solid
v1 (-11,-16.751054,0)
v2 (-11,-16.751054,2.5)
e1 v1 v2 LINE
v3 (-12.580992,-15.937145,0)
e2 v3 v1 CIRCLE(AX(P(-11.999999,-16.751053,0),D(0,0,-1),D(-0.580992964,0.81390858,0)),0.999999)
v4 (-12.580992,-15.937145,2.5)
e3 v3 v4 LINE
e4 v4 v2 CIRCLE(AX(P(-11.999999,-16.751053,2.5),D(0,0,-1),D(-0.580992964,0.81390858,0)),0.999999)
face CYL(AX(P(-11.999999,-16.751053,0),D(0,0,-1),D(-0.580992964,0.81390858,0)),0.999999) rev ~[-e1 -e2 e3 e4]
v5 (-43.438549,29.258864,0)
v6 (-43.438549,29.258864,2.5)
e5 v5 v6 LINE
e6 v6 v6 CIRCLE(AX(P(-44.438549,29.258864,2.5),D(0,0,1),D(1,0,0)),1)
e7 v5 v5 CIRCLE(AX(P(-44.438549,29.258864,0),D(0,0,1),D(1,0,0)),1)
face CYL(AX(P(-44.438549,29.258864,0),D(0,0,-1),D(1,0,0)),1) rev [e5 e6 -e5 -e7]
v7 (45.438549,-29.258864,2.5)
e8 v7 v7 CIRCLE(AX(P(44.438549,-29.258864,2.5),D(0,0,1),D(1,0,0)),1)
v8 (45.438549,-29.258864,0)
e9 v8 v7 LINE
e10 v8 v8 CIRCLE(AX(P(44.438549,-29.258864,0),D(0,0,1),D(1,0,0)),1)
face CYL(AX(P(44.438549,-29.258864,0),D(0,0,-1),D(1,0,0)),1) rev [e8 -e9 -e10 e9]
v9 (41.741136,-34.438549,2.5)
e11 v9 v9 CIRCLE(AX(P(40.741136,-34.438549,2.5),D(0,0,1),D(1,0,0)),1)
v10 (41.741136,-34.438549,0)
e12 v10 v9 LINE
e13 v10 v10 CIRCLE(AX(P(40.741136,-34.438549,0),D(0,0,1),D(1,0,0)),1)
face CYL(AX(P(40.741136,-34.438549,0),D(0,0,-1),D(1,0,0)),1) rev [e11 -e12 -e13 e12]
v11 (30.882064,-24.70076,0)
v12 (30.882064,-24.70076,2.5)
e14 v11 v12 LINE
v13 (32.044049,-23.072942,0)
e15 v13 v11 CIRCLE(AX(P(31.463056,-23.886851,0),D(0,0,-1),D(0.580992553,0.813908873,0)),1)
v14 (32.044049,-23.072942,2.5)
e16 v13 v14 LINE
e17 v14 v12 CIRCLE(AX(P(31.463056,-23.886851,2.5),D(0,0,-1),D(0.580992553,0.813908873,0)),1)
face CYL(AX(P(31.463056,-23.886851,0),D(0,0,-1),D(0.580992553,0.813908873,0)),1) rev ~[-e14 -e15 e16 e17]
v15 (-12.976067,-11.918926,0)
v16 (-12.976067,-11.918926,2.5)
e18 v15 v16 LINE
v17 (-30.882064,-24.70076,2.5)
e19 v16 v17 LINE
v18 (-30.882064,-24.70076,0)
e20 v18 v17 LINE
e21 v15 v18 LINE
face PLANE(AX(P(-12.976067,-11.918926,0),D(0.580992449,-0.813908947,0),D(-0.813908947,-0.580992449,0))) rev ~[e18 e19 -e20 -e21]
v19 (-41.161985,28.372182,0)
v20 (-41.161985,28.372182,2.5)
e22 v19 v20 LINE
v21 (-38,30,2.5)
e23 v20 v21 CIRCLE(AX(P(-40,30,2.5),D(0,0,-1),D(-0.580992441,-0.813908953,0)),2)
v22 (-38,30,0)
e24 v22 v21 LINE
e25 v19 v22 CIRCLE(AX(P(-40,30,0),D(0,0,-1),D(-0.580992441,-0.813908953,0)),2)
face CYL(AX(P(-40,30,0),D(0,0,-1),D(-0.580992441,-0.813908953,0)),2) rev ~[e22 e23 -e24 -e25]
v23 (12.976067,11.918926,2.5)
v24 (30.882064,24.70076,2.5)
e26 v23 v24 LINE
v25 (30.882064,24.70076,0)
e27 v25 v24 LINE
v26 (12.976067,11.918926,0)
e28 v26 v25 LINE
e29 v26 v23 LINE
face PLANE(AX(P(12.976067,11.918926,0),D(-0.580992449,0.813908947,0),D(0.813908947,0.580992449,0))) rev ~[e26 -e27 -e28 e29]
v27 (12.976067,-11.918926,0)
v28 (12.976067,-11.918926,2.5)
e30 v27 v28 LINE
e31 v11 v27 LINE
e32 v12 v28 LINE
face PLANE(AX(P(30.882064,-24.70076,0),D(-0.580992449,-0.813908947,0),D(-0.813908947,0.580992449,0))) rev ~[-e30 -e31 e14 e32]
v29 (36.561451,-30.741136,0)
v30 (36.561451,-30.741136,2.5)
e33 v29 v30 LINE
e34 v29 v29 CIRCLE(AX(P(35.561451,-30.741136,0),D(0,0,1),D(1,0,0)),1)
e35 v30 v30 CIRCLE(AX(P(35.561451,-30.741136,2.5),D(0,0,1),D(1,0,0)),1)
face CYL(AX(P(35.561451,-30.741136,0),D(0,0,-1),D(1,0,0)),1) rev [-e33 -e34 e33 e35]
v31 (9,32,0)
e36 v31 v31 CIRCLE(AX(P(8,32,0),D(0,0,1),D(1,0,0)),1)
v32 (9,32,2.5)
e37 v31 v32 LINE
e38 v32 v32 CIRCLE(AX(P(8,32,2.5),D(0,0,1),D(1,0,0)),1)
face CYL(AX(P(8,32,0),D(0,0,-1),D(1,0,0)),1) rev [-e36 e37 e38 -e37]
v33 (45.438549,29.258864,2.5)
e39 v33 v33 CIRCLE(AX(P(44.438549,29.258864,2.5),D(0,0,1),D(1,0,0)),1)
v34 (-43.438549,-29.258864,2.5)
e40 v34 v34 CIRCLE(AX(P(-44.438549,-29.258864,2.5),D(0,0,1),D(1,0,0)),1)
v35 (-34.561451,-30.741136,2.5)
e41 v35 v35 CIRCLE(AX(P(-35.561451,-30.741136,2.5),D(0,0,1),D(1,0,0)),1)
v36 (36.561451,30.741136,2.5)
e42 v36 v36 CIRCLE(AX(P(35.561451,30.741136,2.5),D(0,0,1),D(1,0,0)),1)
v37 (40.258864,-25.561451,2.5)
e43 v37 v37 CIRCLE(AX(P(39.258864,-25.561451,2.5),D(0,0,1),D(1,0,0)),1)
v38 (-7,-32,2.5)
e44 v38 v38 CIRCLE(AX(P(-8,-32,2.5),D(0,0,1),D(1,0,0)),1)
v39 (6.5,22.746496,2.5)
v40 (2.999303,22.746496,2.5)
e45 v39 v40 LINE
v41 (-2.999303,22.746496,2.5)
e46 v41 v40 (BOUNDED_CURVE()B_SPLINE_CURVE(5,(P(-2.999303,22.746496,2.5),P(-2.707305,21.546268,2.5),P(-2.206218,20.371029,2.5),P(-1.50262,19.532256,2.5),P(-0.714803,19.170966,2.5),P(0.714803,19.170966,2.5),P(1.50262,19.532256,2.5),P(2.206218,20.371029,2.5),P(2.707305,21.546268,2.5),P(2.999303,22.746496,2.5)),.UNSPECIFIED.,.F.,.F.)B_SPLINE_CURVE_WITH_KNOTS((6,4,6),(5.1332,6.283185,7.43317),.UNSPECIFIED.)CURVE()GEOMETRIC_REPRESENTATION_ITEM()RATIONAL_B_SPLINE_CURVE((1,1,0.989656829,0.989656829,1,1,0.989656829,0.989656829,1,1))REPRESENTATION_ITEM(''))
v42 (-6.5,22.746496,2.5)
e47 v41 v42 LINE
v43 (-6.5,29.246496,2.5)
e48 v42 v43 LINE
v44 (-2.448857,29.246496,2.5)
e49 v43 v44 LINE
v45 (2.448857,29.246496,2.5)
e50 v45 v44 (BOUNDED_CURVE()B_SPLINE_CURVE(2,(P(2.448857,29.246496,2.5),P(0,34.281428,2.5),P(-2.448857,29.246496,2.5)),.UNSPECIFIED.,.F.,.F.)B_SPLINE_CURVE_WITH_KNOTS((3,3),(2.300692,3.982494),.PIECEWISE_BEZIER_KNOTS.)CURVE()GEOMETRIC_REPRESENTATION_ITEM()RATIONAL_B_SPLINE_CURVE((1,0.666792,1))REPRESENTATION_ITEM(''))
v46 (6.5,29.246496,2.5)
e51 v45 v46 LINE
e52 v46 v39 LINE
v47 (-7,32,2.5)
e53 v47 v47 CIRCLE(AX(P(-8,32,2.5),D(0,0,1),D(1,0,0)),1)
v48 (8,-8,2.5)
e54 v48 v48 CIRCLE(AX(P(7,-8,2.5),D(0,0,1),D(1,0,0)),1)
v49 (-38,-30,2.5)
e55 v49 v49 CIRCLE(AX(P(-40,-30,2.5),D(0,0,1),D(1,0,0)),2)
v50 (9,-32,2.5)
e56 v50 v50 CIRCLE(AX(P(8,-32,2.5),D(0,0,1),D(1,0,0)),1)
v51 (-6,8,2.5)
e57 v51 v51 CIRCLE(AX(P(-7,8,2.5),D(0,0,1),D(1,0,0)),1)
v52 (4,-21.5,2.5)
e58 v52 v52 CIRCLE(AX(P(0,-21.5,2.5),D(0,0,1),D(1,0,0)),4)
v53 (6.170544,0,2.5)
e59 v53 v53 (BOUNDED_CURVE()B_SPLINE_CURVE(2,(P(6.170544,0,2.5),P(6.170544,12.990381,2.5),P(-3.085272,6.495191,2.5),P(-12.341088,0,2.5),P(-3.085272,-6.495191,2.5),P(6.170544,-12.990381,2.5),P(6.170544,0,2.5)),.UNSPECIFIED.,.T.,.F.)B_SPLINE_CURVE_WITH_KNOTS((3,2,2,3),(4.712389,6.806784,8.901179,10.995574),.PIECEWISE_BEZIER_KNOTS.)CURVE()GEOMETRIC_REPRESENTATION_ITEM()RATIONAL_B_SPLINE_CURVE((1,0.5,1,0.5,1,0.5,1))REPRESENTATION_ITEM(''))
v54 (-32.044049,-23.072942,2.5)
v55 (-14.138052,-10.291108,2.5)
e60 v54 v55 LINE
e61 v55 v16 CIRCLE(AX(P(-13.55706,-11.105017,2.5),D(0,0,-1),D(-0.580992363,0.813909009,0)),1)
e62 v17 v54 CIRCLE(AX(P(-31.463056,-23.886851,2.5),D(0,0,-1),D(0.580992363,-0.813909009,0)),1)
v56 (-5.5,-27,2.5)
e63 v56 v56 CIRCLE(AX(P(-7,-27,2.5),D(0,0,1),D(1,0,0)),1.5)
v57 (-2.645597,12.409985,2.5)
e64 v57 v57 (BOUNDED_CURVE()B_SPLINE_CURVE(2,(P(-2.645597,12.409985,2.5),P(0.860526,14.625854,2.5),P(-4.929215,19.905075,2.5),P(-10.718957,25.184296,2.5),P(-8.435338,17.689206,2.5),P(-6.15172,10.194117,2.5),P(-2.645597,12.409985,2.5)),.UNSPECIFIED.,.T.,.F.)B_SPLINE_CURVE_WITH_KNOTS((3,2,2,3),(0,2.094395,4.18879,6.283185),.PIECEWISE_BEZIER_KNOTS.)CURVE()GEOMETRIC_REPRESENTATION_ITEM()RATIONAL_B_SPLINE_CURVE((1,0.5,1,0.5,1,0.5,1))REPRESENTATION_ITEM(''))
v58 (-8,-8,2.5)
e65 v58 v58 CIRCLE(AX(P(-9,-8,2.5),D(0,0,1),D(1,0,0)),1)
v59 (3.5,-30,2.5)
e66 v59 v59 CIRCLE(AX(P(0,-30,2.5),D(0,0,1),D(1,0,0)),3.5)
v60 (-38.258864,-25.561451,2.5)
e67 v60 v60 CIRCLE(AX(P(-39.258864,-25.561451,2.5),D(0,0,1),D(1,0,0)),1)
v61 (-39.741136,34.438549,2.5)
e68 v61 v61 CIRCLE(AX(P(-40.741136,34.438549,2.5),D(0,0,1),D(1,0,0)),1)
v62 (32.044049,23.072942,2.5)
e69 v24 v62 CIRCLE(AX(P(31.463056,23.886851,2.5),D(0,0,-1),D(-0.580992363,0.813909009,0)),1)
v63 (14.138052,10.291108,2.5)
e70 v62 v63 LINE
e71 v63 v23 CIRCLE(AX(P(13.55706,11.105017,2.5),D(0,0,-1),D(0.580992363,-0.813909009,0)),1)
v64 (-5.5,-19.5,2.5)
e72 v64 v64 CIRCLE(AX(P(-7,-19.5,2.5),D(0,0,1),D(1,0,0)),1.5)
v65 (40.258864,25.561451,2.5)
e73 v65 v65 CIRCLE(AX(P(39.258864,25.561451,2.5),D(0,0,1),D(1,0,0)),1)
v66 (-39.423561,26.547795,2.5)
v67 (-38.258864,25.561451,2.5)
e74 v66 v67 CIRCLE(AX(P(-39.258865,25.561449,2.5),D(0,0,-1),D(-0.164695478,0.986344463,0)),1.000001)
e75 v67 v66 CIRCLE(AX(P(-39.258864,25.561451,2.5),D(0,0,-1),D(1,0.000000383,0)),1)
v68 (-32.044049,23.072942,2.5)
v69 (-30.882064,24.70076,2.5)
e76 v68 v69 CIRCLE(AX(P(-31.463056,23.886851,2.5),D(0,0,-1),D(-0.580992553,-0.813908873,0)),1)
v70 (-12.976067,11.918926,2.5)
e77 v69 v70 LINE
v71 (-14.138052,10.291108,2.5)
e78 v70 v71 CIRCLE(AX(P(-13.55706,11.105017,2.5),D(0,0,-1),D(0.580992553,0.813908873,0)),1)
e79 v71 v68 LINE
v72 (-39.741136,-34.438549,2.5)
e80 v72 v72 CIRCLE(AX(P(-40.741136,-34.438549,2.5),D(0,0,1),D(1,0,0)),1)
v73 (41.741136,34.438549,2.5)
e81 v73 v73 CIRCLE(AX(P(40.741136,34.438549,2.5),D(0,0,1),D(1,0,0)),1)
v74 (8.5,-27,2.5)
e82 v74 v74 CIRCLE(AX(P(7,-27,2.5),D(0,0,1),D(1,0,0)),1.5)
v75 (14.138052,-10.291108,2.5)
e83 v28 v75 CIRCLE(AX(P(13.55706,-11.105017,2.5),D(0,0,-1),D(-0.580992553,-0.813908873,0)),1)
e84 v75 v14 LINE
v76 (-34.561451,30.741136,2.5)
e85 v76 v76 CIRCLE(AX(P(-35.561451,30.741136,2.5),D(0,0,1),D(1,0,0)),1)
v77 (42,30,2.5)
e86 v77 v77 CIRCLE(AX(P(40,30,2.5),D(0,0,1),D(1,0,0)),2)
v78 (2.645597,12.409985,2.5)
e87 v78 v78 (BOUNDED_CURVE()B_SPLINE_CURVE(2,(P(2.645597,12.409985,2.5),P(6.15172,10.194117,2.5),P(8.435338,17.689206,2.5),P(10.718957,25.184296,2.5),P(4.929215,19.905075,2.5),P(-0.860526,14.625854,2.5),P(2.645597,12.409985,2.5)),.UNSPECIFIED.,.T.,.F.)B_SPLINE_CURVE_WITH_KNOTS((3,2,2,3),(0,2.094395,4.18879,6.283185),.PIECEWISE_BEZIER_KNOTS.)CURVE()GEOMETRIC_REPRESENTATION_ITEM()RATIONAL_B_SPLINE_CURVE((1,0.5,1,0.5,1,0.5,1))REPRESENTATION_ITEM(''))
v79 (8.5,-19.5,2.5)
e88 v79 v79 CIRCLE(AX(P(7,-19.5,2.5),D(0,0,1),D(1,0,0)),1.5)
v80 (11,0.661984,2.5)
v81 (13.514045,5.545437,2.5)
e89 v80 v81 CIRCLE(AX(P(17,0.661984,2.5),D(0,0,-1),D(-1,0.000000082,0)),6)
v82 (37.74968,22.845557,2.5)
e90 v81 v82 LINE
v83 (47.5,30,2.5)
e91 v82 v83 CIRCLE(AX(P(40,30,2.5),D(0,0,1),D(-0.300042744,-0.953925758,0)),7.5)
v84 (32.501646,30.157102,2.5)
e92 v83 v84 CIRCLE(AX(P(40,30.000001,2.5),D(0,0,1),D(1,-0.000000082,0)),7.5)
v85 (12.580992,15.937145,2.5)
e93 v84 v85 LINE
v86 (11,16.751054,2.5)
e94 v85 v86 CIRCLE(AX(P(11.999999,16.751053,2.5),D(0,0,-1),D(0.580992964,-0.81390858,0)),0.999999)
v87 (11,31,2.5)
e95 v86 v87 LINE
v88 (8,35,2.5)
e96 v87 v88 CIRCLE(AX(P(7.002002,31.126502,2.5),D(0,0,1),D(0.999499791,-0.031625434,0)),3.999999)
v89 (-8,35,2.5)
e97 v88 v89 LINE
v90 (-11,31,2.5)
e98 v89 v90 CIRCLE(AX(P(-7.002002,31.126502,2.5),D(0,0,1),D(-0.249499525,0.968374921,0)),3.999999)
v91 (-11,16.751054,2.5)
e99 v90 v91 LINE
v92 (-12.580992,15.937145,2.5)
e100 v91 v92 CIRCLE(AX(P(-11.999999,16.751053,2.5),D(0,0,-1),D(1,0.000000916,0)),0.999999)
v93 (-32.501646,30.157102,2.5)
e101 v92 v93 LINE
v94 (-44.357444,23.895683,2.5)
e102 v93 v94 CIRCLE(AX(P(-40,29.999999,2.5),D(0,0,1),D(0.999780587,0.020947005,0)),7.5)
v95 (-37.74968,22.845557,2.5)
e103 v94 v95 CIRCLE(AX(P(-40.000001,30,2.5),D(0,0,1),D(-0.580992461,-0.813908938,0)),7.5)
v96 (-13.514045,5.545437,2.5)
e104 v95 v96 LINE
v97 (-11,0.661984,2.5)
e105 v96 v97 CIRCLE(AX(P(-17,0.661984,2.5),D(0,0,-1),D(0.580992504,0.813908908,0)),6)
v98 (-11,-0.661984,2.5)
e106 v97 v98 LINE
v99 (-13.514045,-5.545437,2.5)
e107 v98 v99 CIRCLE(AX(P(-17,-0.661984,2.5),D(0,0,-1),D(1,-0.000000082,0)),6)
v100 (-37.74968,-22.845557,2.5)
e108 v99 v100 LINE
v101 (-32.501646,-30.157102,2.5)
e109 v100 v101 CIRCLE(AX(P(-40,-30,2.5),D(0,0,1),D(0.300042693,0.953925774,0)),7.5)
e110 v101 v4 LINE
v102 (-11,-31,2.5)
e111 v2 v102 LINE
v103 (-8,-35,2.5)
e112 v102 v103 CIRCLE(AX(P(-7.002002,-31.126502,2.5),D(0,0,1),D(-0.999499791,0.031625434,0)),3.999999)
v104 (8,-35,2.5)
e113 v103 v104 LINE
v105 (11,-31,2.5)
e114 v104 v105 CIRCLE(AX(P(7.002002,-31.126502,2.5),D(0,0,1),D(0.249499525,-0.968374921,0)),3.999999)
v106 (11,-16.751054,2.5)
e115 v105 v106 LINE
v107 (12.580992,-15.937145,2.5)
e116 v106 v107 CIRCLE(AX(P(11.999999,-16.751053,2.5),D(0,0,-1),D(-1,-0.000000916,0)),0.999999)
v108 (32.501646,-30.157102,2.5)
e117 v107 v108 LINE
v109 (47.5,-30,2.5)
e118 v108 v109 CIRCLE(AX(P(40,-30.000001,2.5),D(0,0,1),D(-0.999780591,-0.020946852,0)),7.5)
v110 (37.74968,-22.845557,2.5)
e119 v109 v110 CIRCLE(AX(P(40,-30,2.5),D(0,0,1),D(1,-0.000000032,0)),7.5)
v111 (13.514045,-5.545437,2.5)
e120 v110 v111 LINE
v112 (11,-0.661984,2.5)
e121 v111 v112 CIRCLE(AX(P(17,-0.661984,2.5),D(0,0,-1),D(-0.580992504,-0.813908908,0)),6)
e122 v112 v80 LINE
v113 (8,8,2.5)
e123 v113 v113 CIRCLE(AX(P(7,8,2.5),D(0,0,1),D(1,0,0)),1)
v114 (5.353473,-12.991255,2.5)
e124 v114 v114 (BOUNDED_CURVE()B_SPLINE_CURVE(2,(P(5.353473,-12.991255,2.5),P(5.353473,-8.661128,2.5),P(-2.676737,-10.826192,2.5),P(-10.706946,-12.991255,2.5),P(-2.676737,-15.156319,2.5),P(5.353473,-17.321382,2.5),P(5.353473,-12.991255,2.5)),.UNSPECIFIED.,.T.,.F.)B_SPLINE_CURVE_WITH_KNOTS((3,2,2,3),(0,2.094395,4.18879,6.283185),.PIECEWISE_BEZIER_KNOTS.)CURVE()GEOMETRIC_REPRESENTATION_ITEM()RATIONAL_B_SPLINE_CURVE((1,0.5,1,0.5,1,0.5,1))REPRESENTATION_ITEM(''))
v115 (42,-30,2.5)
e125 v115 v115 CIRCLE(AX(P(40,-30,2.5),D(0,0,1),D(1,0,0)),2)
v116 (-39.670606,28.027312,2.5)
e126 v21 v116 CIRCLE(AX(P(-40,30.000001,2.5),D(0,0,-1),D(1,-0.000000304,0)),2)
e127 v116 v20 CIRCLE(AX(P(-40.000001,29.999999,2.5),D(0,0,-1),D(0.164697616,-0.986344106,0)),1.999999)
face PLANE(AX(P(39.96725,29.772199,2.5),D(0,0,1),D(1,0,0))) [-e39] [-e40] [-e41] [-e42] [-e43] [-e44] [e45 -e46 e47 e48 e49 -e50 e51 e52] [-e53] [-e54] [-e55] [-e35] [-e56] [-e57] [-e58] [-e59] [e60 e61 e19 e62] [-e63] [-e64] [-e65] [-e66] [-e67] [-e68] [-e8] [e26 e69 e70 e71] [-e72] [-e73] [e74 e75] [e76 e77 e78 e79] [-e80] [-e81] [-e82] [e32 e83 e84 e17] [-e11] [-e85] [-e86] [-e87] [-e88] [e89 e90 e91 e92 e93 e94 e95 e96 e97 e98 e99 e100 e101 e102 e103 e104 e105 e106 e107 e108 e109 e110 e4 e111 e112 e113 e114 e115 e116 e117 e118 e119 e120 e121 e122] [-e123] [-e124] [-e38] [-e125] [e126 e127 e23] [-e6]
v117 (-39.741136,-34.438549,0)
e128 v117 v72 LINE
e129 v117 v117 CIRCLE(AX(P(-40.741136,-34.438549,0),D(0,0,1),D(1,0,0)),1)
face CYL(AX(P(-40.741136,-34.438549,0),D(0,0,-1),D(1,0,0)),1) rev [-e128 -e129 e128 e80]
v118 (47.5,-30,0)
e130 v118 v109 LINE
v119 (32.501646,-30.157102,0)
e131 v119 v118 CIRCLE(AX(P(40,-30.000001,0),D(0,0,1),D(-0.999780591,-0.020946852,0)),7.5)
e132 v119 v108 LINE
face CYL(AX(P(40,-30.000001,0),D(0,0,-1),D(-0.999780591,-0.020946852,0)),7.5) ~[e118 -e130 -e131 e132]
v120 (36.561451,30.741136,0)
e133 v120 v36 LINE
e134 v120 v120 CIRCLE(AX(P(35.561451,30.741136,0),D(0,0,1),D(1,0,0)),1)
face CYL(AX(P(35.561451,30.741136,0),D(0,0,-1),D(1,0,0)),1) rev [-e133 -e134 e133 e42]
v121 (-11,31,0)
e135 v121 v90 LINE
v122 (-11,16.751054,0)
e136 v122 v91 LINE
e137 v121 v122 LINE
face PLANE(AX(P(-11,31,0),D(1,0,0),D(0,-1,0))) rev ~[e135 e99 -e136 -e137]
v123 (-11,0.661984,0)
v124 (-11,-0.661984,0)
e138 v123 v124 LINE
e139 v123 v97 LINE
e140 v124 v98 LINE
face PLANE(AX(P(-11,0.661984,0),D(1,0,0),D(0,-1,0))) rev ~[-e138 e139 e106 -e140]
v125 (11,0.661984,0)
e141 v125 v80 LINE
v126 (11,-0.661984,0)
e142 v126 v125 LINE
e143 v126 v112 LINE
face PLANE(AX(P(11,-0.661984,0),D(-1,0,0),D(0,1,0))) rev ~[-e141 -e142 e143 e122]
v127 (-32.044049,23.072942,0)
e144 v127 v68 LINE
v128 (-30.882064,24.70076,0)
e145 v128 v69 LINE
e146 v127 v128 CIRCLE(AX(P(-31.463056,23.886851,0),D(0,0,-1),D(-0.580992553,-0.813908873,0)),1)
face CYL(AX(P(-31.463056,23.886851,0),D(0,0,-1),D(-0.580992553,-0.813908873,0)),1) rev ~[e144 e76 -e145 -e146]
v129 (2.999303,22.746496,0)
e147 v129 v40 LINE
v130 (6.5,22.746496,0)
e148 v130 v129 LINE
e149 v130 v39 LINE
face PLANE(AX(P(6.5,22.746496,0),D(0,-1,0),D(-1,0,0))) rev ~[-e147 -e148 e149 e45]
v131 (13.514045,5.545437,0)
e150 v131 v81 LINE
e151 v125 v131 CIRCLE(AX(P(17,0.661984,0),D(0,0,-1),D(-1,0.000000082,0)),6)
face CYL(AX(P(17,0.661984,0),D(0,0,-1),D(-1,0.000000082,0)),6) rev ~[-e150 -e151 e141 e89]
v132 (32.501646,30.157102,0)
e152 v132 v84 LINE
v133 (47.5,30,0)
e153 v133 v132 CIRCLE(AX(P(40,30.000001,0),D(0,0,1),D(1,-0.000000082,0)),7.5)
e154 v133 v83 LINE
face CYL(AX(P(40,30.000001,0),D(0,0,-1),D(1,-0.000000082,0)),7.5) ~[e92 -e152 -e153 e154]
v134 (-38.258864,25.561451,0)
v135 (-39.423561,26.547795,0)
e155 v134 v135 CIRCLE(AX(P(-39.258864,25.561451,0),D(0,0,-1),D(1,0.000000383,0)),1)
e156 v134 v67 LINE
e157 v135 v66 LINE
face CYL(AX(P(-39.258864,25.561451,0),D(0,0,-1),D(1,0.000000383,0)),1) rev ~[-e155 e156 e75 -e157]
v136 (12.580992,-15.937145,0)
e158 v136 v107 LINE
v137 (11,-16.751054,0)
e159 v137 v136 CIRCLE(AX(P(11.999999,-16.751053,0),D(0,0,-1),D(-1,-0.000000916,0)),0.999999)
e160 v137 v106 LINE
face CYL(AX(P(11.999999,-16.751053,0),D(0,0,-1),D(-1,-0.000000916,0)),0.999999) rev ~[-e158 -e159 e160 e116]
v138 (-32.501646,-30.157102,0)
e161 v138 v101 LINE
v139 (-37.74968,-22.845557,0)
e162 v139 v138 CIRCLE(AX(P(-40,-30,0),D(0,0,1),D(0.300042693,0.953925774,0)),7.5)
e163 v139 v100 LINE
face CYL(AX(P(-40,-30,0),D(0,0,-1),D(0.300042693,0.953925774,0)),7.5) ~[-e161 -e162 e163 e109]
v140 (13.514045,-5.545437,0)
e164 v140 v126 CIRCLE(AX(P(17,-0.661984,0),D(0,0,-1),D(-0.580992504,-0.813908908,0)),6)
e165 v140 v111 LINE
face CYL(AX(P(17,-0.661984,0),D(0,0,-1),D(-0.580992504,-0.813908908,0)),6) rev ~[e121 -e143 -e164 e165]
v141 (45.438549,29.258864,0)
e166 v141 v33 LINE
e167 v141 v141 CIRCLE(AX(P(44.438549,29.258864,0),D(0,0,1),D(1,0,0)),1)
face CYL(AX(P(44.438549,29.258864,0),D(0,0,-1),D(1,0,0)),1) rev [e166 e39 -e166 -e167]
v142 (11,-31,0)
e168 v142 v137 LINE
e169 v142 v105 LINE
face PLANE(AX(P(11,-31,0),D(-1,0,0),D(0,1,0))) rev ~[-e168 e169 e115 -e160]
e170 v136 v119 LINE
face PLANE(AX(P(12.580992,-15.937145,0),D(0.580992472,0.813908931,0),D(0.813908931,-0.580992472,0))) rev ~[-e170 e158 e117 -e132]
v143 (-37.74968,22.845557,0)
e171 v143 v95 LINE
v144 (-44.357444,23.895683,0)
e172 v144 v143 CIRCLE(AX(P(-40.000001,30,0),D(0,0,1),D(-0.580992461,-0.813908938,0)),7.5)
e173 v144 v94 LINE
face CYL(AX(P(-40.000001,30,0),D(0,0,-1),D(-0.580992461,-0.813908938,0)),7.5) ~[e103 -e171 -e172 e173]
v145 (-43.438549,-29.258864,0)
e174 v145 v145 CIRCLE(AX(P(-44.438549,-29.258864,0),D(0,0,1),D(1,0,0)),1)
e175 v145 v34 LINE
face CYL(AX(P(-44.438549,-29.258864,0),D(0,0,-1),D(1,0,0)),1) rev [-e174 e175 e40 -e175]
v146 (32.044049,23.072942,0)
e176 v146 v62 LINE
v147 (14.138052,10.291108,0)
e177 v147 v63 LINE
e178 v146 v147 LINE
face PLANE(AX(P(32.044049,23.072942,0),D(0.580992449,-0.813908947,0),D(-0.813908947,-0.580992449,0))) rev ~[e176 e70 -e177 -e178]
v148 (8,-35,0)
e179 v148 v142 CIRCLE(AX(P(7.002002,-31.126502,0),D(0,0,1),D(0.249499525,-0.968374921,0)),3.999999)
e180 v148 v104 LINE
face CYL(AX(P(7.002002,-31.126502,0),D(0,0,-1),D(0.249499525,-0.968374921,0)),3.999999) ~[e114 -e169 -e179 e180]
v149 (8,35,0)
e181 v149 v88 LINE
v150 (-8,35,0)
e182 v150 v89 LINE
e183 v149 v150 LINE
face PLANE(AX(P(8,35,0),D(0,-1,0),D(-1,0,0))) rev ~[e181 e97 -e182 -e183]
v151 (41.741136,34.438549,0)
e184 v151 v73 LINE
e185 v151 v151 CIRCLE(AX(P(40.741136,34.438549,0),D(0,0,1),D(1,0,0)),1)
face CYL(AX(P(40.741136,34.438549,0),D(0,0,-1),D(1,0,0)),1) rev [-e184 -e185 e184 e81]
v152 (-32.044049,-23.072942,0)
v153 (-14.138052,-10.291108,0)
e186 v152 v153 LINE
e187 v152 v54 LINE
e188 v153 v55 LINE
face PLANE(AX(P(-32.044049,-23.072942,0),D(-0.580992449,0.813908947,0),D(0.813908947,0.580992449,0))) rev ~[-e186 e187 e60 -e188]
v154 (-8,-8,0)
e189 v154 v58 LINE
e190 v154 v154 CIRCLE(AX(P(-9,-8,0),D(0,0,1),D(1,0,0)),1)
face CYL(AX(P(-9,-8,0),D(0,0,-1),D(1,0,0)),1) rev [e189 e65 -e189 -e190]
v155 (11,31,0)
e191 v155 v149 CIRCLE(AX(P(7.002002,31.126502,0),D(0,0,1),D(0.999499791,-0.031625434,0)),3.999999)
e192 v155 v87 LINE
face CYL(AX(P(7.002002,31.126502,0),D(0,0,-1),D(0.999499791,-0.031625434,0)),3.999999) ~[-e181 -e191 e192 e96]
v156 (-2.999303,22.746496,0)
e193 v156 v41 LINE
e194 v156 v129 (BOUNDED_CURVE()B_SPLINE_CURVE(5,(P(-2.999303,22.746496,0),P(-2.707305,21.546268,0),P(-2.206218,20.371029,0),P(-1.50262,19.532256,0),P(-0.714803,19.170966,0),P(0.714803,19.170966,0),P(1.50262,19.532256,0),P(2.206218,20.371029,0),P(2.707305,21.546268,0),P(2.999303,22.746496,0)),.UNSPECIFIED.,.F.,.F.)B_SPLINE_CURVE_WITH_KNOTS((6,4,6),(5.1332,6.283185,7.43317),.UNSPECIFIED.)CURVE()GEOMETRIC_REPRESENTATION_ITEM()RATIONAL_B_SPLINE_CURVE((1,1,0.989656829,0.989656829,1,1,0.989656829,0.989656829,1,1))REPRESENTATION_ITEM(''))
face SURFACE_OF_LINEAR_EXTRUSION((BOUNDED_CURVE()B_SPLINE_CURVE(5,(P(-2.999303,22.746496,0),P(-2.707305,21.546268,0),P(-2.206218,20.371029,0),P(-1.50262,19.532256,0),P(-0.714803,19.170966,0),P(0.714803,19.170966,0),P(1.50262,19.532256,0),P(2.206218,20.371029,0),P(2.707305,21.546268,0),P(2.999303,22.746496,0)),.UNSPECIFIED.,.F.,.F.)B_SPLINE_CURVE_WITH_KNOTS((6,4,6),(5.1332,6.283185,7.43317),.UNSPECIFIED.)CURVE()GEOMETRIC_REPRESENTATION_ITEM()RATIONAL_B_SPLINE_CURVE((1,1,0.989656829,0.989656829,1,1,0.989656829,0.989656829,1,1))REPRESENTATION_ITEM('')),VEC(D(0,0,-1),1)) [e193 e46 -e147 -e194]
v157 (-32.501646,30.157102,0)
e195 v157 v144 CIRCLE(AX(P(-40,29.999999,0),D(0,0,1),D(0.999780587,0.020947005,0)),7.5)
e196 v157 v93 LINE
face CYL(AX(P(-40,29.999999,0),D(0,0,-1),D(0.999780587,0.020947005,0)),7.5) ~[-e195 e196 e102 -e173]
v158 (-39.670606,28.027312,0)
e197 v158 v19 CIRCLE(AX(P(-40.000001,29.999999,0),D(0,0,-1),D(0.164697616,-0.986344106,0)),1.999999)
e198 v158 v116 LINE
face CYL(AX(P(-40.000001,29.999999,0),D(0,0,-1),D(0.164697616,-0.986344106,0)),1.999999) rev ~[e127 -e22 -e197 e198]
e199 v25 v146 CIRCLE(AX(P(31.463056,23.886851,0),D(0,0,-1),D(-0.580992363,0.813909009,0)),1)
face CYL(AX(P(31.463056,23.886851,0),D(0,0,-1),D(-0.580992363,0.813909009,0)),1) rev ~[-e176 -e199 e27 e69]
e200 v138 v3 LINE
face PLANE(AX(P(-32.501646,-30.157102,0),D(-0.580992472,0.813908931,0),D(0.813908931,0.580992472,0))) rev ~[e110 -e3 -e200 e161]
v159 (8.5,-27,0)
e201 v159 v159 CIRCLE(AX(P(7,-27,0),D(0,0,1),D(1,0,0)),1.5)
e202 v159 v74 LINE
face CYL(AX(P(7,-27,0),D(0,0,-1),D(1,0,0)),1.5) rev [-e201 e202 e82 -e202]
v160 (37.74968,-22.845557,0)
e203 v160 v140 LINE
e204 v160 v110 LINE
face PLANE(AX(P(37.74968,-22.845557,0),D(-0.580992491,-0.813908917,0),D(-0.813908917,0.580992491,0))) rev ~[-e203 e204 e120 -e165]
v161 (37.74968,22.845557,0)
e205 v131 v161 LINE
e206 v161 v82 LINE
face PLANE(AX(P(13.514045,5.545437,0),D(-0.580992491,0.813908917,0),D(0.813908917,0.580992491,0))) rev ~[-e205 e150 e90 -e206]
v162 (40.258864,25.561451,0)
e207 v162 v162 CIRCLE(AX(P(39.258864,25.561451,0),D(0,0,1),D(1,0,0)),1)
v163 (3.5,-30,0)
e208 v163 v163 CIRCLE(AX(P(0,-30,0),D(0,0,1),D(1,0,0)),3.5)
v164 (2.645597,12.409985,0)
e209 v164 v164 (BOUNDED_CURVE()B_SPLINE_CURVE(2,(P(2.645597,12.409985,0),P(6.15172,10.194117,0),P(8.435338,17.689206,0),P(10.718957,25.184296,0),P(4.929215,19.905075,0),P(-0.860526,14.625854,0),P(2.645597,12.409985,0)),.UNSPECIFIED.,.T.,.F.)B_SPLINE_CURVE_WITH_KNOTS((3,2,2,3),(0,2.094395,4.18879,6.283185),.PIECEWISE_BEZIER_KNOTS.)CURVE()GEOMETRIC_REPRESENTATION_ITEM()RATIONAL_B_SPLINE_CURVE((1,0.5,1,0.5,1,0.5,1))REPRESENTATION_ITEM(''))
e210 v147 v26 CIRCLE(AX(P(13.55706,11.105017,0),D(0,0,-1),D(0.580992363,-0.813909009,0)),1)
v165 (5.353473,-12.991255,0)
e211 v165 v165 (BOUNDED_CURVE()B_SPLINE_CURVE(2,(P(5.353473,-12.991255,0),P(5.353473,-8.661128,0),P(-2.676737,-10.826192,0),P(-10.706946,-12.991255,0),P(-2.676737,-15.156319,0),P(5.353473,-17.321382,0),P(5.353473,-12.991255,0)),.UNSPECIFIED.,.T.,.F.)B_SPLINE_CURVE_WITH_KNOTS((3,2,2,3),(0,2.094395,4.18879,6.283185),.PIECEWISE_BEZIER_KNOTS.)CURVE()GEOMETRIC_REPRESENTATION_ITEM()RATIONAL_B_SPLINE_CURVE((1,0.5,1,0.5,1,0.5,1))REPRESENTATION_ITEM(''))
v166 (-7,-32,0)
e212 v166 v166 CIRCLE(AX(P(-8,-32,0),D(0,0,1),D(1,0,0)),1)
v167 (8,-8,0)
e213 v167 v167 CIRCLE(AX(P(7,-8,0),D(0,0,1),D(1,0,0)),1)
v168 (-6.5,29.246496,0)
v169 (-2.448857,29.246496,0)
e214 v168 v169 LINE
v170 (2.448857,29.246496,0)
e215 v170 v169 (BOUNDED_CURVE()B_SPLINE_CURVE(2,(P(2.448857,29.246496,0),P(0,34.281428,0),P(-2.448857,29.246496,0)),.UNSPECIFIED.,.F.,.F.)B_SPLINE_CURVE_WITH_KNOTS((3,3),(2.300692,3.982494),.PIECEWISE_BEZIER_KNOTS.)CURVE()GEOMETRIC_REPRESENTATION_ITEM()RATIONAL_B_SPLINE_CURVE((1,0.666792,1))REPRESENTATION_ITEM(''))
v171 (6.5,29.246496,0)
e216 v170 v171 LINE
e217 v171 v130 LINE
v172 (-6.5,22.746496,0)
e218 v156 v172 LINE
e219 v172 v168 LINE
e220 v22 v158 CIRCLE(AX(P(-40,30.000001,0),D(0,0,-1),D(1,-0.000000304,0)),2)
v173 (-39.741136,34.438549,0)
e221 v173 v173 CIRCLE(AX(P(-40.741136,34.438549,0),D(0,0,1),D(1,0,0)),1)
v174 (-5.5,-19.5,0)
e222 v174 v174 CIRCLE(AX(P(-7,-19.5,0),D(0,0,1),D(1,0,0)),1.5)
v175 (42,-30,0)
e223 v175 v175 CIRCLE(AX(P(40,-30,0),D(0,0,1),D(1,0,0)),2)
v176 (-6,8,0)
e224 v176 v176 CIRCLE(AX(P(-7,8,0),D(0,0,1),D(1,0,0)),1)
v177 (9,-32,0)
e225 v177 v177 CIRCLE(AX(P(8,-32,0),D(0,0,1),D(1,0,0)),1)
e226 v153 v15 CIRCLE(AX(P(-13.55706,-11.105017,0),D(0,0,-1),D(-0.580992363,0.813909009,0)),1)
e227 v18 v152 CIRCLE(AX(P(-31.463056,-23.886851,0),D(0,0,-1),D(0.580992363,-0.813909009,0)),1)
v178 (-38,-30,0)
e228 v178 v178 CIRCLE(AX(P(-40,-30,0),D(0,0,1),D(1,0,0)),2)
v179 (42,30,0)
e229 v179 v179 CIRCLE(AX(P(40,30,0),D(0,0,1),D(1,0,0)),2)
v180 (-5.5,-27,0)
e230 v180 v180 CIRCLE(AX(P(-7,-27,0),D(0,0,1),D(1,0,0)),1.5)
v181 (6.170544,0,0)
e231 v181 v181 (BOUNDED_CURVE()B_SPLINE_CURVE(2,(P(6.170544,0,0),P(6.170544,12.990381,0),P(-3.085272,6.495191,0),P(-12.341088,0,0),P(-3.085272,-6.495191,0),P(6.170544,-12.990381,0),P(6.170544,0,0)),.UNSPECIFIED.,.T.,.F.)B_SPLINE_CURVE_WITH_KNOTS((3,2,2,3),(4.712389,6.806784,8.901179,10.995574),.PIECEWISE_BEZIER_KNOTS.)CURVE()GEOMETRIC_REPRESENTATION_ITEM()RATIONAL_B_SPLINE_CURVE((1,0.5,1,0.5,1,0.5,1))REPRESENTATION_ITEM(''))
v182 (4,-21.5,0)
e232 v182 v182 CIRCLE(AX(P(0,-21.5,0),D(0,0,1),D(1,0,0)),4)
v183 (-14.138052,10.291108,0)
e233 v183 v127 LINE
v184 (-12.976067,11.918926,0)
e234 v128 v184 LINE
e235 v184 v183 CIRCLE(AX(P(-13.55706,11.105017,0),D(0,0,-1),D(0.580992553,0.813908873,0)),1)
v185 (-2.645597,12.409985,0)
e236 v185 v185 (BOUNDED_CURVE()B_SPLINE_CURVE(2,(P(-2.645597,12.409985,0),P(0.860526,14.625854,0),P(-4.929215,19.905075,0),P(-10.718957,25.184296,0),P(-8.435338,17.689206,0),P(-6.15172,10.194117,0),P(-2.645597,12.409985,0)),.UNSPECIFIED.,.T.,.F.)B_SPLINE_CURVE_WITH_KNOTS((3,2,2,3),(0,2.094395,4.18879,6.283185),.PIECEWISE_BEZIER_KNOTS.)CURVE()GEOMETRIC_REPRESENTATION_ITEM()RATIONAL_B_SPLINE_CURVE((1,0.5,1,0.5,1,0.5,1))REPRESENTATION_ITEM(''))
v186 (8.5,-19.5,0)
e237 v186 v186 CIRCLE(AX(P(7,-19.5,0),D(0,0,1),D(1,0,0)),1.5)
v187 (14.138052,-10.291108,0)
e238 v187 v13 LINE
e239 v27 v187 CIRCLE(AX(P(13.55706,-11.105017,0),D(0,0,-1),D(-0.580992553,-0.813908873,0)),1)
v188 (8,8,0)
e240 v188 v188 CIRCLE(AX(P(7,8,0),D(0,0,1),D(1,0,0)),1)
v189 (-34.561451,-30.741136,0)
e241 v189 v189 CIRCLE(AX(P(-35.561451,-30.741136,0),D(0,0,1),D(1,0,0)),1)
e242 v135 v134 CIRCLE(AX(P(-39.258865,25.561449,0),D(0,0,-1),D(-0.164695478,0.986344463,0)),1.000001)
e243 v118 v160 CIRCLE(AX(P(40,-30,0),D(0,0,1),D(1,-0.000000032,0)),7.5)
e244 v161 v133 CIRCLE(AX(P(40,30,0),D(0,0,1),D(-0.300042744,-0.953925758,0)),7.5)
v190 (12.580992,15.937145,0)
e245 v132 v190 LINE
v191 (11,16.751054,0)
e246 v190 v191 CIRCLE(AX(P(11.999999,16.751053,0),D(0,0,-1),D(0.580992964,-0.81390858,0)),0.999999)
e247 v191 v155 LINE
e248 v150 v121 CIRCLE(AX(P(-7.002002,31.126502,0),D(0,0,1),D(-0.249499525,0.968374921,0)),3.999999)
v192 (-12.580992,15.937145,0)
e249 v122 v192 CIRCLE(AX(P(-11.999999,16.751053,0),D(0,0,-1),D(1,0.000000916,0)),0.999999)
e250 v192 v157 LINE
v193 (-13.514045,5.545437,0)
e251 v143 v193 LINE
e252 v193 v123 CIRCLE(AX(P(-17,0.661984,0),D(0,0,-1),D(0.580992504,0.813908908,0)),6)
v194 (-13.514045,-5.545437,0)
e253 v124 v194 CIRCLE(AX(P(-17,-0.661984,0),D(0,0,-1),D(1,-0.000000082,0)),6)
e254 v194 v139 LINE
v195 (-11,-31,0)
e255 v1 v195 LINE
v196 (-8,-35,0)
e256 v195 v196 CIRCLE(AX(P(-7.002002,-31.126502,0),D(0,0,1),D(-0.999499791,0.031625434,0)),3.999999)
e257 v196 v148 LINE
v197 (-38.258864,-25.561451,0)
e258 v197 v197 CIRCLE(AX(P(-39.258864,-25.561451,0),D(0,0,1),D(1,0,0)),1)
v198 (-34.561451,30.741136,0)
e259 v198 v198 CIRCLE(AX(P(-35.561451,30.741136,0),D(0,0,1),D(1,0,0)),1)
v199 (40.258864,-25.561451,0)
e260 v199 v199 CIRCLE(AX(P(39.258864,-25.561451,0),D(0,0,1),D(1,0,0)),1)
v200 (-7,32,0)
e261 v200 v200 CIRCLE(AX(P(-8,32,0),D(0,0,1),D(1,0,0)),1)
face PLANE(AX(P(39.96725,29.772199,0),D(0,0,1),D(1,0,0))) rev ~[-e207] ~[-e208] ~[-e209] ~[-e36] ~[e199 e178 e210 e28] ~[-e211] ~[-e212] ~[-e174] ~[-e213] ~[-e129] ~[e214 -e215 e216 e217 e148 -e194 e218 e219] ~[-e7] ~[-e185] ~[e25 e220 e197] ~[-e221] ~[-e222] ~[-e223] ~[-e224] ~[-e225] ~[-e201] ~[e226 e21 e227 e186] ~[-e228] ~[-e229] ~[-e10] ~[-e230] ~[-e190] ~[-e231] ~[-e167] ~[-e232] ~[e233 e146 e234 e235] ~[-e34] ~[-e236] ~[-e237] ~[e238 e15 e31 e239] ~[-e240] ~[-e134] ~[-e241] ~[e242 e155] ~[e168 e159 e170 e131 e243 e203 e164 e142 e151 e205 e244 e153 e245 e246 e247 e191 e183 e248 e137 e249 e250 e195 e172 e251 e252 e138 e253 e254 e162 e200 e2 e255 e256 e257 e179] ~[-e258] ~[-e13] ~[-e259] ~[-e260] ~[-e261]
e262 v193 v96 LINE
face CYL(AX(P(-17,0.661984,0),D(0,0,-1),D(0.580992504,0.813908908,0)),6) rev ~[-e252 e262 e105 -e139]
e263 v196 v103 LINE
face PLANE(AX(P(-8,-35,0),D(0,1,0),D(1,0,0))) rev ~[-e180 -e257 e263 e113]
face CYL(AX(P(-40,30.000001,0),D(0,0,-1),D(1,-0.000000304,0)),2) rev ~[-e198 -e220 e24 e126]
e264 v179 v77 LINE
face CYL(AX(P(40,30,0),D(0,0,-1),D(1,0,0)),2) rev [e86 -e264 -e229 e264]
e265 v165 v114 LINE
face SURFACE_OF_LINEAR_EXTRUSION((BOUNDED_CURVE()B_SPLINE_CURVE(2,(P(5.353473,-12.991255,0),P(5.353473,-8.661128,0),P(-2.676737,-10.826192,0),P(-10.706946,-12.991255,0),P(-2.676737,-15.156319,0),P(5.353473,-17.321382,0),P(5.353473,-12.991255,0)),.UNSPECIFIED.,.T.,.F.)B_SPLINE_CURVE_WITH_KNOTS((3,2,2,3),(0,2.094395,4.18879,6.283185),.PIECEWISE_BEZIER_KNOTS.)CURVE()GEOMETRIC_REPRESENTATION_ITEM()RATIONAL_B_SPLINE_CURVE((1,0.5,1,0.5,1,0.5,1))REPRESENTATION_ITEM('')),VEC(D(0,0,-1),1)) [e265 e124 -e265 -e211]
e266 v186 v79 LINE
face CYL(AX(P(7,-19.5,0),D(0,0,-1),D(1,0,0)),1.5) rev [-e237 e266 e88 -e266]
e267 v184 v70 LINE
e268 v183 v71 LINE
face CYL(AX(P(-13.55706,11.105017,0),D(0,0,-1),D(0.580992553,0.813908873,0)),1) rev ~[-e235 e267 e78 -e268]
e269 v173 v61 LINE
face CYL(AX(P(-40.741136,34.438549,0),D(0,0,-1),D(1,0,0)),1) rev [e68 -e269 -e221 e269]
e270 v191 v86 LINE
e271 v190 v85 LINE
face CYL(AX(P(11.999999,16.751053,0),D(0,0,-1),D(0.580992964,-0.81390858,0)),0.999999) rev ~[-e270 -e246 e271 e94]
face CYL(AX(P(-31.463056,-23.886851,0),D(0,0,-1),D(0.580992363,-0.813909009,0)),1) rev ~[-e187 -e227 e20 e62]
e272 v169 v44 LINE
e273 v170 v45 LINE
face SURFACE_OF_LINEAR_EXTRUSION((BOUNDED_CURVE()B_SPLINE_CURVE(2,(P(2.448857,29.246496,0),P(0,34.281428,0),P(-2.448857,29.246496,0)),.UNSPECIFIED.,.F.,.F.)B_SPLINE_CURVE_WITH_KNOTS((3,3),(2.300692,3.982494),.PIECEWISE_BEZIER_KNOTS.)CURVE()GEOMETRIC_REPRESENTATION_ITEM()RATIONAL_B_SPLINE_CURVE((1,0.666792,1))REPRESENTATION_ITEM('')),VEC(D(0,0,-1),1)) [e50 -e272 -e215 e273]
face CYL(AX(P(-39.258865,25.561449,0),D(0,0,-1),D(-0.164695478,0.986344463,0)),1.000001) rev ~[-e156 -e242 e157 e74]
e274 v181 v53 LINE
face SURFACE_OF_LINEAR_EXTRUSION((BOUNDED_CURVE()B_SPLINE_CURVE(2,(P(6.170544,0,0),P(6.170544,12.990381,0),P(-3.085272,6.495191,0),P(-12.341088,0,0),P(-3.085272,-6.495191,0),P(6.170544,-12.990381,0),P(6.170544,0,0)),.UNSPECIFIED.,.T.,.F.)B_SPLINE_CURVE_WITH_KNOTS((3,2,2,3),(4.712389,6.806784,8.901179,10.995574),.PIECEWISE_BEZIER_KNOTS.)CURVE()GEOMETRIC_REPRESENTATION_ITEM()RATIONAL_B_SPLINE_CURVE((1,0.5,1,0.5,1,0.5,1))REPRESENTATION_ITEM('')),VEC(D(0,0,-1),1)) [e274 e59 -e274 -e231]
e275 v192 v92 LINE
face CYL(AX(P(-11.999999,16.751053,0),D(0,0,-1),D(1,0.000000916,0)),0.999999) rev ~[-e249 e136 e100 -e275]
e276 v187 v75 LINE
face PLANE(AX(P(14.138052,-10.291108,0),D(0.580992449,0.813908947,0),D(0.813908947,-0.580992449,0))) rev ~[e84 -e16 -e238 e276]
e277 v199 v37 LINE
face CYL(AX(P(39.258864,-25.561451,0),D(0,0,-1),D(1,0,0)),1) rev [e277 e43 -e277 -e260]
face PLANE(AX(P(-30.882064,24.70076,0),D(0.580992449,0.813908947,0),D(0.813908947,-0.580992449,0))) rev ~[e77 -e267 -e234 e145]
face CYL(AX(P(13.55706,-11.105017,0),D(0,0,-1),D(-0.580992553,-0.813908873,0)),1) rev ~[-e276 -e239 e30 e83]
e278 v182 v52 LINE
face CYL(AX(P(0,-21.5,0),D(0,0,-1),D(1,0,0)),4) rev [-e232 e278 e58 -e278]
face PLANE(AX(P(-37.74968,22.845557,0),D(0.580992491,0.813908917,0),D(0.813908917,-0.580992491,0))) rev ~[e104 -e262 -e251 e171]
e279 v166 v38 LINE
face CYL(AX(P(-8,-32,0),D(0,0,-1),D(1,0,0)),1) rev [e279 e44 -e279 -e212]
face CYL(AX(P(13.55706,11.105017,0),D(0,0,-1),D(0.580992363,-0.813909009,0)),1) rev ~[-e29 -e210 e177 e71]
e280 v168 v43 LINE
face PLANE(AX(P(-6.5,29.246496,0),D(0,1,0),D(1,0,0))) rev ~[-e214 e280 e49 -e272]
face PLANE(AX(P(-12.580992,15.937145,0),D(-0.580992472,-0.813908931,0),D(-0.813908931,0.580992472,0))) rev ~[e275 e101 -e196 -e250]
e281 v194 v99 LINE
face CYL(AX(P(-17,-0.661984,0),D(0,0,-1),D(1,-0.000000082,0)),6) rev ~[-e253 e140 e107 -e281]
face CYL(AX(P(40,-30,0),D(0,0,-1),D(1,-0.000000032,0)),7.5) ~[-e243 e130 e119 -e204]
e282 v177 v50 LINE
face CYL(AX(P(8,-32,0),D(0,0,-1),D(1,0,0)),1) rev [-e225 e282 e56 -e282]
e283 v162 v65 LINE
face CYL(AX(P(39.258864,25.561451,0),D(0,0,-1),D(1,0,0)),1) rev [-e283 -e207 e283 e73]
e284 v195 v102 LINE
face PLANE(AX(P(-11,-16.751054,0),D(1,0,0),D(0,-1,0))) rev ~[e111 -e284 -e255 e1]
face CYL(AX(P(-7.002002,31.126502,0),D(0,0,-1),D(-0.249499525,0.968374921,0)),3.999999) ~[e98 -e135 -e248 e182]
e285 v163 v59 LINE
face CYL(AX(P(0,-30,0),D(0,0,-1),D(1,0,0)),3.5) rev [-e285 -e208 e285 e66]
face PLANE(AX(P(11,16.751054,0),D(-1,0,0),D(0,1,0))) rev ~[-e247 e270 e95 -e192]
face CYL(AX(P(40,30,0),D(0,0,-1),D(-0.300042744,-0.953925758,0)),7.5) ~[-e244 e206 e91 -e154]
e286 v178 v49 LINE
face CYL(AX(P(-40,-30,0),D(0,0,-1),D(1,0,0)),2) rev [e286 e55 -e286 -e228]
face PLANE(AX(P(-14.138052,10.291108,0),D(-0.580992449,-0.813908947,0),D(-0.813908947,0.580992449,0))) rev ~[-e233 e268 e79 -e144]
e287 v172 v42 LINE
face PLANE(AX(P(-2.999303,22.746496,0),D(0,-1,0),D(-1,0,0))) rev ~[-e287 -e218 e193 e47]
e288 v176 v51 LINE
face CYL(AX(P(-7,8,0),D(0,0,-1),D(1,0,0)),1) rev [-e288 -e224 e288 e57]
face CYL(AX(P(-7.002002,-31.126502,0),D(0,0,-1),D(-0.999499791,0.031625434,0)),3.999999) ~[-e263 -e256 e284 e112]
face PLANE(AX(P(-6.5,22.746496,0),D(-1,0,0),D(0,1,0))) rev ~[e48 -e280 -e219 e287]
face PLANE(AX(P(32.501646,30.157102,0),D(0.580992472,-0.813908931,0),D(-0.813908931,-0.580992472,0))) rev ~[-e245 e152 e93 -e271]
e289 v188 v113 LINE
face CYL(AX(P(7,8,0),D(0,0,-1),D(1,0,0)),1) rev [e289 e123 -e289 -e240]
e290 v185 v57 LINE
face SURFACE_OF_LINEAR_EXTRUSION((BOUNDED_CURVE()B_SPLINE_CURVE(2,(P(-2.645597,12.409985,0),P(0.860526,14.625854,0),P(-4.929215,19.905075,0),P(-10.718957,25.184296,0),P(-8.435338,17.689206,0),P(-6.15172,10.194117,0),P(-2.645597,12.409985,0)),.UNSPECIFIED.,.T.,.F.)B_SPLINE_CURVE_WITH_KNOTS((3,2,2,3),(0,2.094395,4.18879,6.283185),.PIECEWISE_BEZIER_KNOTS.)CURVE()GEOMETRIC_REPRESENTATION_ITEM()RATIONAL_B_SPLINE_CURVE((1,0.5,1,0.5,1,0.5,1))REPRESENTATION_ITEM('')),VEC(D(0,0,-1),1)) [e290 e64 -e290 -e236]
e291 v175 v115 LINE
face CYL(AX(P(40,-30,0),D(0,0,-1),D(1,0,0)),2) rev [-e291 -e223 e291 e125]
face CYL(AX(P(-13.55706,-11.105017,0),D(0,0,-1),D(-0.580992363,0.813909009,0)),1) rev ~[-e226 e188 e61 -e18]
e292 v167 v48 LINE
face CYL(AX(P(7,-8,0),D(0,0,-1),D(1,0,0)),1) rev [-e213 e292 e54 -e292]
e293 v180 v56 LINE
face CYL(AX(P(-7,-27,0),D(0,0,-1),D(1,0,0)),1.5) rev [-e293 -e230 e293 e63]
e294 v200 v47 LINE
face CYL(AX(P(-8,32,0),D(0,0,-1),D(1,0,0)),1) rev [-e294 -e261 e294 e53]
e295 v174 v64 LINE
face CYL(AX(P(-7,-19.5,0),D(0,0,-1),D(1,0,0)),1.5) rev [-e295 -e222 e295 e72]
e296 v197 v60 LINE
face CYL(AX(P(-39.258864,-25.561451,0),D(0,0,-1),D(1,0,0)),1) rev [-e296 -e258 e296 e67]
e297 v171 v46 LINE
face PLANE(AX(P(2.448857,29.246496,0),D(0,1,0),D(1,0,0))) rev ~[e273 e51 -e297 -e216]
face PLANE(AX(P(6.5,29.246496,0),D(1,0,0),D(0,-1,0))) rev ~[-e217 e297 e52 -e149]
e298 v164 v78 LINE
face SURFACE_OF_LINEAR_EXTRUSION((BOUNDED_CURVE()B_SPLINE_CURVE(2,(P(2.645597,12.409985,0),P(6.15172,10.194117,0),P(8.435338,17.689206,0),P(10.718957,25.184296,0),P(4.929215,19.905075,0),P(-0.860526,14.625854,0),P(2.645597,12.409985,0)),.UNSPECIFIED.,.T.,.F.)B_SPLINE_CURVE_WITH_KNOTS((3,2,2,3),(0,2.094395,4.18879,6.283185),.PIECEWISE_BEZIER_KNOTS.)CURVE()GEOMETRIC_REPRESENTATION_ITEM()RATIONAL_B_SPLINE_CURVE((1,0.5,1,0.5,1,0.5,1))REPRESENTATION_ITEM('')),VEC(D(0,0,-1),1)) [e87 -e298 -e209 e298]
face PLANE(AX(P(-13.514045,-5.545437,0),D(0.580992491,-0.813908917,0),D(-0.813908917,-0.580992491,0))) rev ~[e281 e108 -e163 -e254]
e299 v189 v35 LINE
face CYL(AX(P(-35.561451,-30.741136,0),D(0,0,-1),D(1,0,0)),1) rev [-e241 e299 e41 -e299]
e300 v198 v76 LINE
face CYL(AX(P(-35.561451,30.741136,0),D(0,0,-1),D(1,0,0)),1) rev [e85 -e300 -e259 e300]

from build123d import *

# Parameters (mm, degrees)
F0_R     = 1
F0_R_2   = 2
F0_R_3   = 1.5
F0_R_4   = 3.5
F0_R_5   = 4
F1_DEPTH = 2.5


with BuildPart() as f1:
    # F0 (on Top) → F1 (new body)
    with BuildSketch(Plane.XY):
        with BuildLine():
            ThreePointArc((37.74968, 22.845557), (44.436924, 23.953207), (47.5, 30))
            ThreePointArc((47.5, 30), (40.078555, 37.499589), (32.501646, 30.157102))
            ThreePointArc((32.501646, 30.157102), (33.907067, 25.626653), (37.74968, 22.845557))
        make_face()
        with Locations((39.258864, 25.561451)):
            Circle(F0_R, mode=Mode.SUBTRACT)
        with Locations((35.561451, 30.741136)):
            Circle(F0_R, mode=Mode.SUBTRACT)
        with Locations((40, 30)):
            Circle(F0_R_2, mode=Mode.SUBTRACT)
        with Locations((44.438549, 29.258864)):
            Circle(F0_R, mode=Mode.SUBTRACT)
        with Locations((40.741136, 34.438549)):
            Circle(F0_R, mode=Mode.SUBTRACT)
        with BuildLine():
            ThreePointArc((37.74968, 22.845557), (33.907067, 25.626653), (32.501646, 30.157102))
            Line((32.501646, 30.157102), (12.580992, 15.937145))
            ThreePointArc((12.580992, 15.937145), (11.542284, 15.861955), (11, 16.751054))
            Line((11, 16.751054), (11, 31))
            ThreePointArc((11, 31), (10.202001, 33.526501), (8, 35))
            Line((8, 35), (-8, 35))
            ThreePointArc((-8, 35), (-10.202001, 33.526501), (-11, 31))
            Line((-11, 31), (-11, 16.751054))
            ThreePointArc((-11, 16.751054), (-11.542284, 15.861955), (-12.580992, 15.937145))
            Line((-12.580992, 15.937145), (-32.501646, 30.157102))
            ThreePointArc((-32.501646, 30.157102), (-32.500411, 30.078555), (-32.5, 30))
            ThreePointArc((-32.5, 30), (-33.953207, 25.563076), (-37.74968, 22.845557))
            Line((-37.74968, 22.845557), (-13.514045, 5.545437))
            ThreePointArc((-13.514045, 5.545437), (-11.665409, 3.408279), (-11, 0.661984))
            Line((-11, 0.661984), (-11, -0.661984))
            ThreePointArc((-11, -0.661984), (-11.665409, -3.408279), (-13.514045, -5.545437))
            Line((-13.514045, -5.545437), (-37.74968, -22.845557))
            ThreePointArc((-37.74968, -22.845557), (-33.953207, -25.563076), (-32.5, -30))
            ThreePointArc((-32.5, -30), (-32.500411, -30.078555), (-32.501646, -30.157102))
            Line((-32.501646, -30.157102), (-12.580992, -15.937145))
            ThreePointArc((-12.580992, -15.937145), (-11.542284, -15.861955), (-11, -16.751054))
            Line((-11, -16.751054), (-11, -16.917931))
            Line((-11, -16.917931), (-11, -31))
            ThreePointArc((-11, -31), (-10.202001, -33.526501), (-8, -35))
            Line((-8, -35), (8, -35))
            ThreePointArc((8, -35), (10.202001, -33.526501), (11, -31))
            Line((11, -31), (11, -16.917931))
            Line((11, -16.917931), (11, -16.751054))
            ThreePointArc((11, -16.751054), (11.542284, -15.861955), (12.580992, -15.937145))
            Line((12.580992, -15.937145), (32.501646, -30.157102))
            ThreePointArc((32.501646, -30.157102), (33.907067, -25.626653), (37.74968, -22.845557))
            Line((37.74968, -22.845557), (13.514045, -5.545437))
            ThreePointArc((13.514045, -5.545437), (11.665409, -3.408279), (11, -0.661984))
            Line((11, -0.661984), (11, 0.661984))
            ThreePointArc((11, 0.661984), (11.665409, 3.408279), (13.514045, 5.545437))
            Line((13.514045, 5.545437), (37.74968, 22.845557))
        make_face()
        with Locations((-8, -32)):
            Circle(F0_R, mode=Mode.SUBTRACT)
        with Locations((-7, -27)):
            Circle(F0_R_3, mode=Mode.SUBTRACT)
        with Locations((-7, -19.5)):
            Circle(F0_R_3, mode=Mode.SUBTRACT)
        with BuildLine():
            Line((-12.976067, -11.918926), (-30.882064, -24.70076))
            ThreePointArc((-30.882064, -24.70076), (-32.276965, -24.467844), (-32.044049, -23.072942))
            Line((-32.044049, -23.072942), (-14.138052, -10.291108))
            ThreePointArc((-14.138052, -10.291108), (-12.743151, -10.524024), (-12.976067, -11.918926))
        make_face(mode=Mode.SUBTRACT)
        with Locations((-9, -8)):
            Circle(F0_R, mode=Mode.SUBTRACT)
        with Locations((0, -30)):
            Circle(F0_R_4, mode=Mode.SUBTRACT)
        with Locations((8, -32)):
            Circle(F0_R, mode=Mode.SUBTRACT)
        with Locations((7, -27)):
            Circle(F0_R_3, mode=Mode.SUBTRACT)
        with Locations((0, -21.5)):
            Circle(F0_R_5, mode=Mode.SUBTRACT)
        with Locations((7, -19.5)):
            Circle(F0_R_3, mode=Mode.SUBTRACT)
        with BuildLine():
            add(Edge.make_bspline(
                [(5.353473, -12.991255), (5.353473, -8.661128), (-2.676737, -10.826192), (-10.706946, -12.991255), (-2.676737, -15.156319), (5.353473, -17.321382), (5.353473, -12.991255)],
                knots=[0, 0, 0, 2.094395, 2.094395, 4.18879, 4.18879, 6.283185, 6.283185, 6.283185], degree=2, weights=[1, 0.5, 1, 0.5, 1, 0.5, 1]))
        make_face(mode=Mode.SUBTRACT)
        with BuildLine():
            Line((14.138052, -10.291108), (32.044049, -23.072942))
            ThreePointArc((32.044049, -23.072942), (32.276965, -24.467844), (30.882064, -24.70076))
            Line((30.882064, -24.70076), (12.976067, -11.918926))
            ThreePointArc((12.976067, -11.918926), (12.743151, -10.524024), (14.138052, -10.291108))
        make_face(mode=Mode.SUBTRACT)
        with Locations((7, -8)):
            Circle(F0_R, mode=Mode.SUBTRACT)
        with Locations((-7, 8)):
            Circle(F0_R, mode=Mode.SUBTRACT)
        with BuildLine():
            ThreePointArc((-32.044049, 23.072942), (-32.276965, 24.467844), (-30.882064, 24.70076))
            Line((-30.882064, 24.70076), (-12.976067, 11.918926))
            ThreePointArc((-12.976067, 11.918926), (-12.743151, 10.524024), (-14.138052, 10.291108))
            Line((-14.138052, 10.291108), (-32.044049, 23.072942))
        make_face(mode=Mode.SUBTRACT)
        with BuildLine():
            add(Edge.make_bspline(
                [(-2.645597, 12.409985), (0.860526, 14.625854), (-4.929215, 19.905075), (-10.718957, 25.184296), (-8.435338, 17.689206), (-6.15172, 10.194117), (-2.645597, 12.409985)],
                knots=[0, 0, 0, 2.094395, 2.094395, 4.18879, 4.18879, 6.283185, 6.283185, 6.283185], degree=2, weights=[1, 0.5, 1, 0.5, 1, 0.5, 1]))
        make_face(mode=Mode.SUBTRACT)
        with Locations((-8, 32)):
            Circle(F0_R, mode=Mode.SUBTRACT)
        with BuildLine():
            add(Edge.make_bspline(
                [(6.170544, 0), (6.170544, 12.990381), (-3.085272, 6.495191), (-12.341088, 0), (-3.085272, -6.495191), (6.170544, -12.990381), (6.170544, 0)],
                knots=[4.712389, 4.712389, 4.712389, 6.806784, 6.806784, 8.901179, 8.901179, 10.995574, 10.995574, 10.995574], degree=2, weights=[1, 0.5, 1, 0.5, 1, 0.5, 1]))
        make_face(mode=Mode.SUBTRACT)
        with Locations((7, 8)):
            Circle(F0_R, mode=Mode.SUBTRACT)
        with BuildLine():
            add(Edge.make_bspline(
                [(2.645597, 12.409985), (6.15172, 10.194117), (8.435338, 17.689206), (10.718957, 25.184296), (4.929215, 19.905075), (-0.860526, 14.625854), (2.645597, 12.409985)],
                knots=[0, 0, 0, 2.094395, 2.094395, 4.18879, 4.18879, 6.283185, 6.283185, 6.283185], degree=2, weights=[1, 0.5, 1, 0.5, 1, 0.5, 1]))
        make_face(mode=Mode.SUBTRACT)
        with BuildLine():
            ThreePointArc((30.882064, 24.70076), (32.276965, 24.467844), (32.044049, 23.072942))
            Line((32.044049, 23.072942), (14.138052, 10.291108))
            ThreePointArc((14.138052, 10.291108), (12.743151, 10.524024), (12.976067, 11.918926))
            Line((12.976067, 11.918926), (30.882064, 24.70076))
        make_face(mode=Mode.SUBTRACT)
        with BuildLine():
            add(Edge.make_bspline(
                [(0, 19.170966), (2.129429, 19.170966), (2.999303, 22.746496)],
                knots=[0, 0, 0, 1.149985, 1.149985, 1.149985], degree=2, weights=[1, 0.839196, 1]))
            add(Edge.make_bspline(
                [(-2.999303, 22.746496), (-2.129429, 19.170966), (0, 19.170966)],
                knots=[5.1332, 5.1332, 5.1332, 6.283185, 6.283185, 6.283185], degree=2, weights=[1, 0.839196, 1]))
            Line((-2.999303, 22.746496), (-6.5, 22.746496))
            Line((-6.5, 22.746496), (-6.5, 29.246496))
            Line((-6.5, 29.246496), (-2.448857, 29.246496))
            add(Edge.make_bspline(
                [(2.448857, 29.246496), (0, 34.281428), (-2.448857, 29.246496)],
                knots=[2.300692, 2.300692, 2.300692, 3.982494, 3.982494, 3.982494], degree=2, weights=[1, 0.666792, 1]))
            Line((2.448857, 29.246496), (6.5, 29.246496))
            Line((6.5, 29.246496), (6.5, 22.746496))
            Line((6.5, 22.746496), (2.999303, 22.746496))
        make_face(mode=Mode.SUBTRACT)
        with Locations((8, 32)):
            Circle(F0_R, mode=Mode.SUBTRACT)
        with BuildLine():
            ThreePointArc((47.5, -30), (44.436924, -23.953207), (37.74968, -22.845557))
            ThreePointArc((37.74968, -22.845557), (33.907067, -25.626653), (32.501646, -30.157102))
            ThreePointArc((32.501646, -30.157102), (40.078555, -37.499589), (47.5, -30))
        make_face()
        with Locations((35.561451, -30.741136)):
            Circle(F0_R, mode=Mode.SUBTRACT)
        with Locations((40.741136, -34.438549)):
            Circle(F0_R, mode=Mode.SUBTRACT)
        with Locations((40, -30)):
            Circle(F0_R_2, mode=Mode.SUBTRACT)
        with Locations((44.438549, -29.258864)):
            Circle(F0_R, mode=Mode.SUBTRACT)
        with Locations((39.258864, -25.561451)):
            Circle(F0_R, mode=Mode.SUBTRACT)
        with BuildLine():
            ThreePointArc((-38.258864, 25.561451), (-38.612605, 26.324568), (-39.423561, 26.547795))
            ThreePointArc((-39.423561, 26.547795), (-39.905124, 24.798333), (-38.258864, 25.561451))
        make_face()
        with BuildLine():
            ThreePointArc((-32.5, 30), (-32.500411, 30.078555), (-32.501646, 30.157102))
            ThreePointArc((-32.501646, 30.157102), (-43.502523, 36.631917), (-44.357444, 23.895683))
            ThreePointArc((-44.357444, 23.895683), (-41.177151, 22.592955), (-37.74968, 22.845557))
            ThreePointArc((-37.74968, 22.845557), (-33.953207, 25.563076), (-32.5, 30))
        make_face()
        with BuildLine():
            ThreePointArc((-38.258864, 25.561451), (-39.905124, 24.798333), (-39.423561, 26.547795))
            ThreePointArc((-39.423561, 26.547795), (-38.612605, 26.324568), (-38.258864, 25.561451))
        make_face(mode=Mode.SUBTRACT)
        with Locations((-44.438549, 29.258864)):
            Circle(F0_R, mode=Mode.SUBTRACT)
        with BuildLine():
            ThreePointArc((-39.670606, 28.027312), (-40.450595, 28.05142), (-41.161985, 28.372182))
            ThreePointArc((-41.161985, 28.372182), (-40.915432, 31.778197), (-38, 30))
            ThreePointArc((-38, 30), (-38.473765, 28.707481), (-39.670606, 28.027312))
        make_face(mode=Mode.SUBTRACT)
        with Locations((-40.741136, 34.438549)):
            Circle(F0_R, mode=Mode.SUBTRACT)
        with Locations((-35.561451, 30.741136)):
            Circle(F0_R, mode=Mode.SUBTRACT)
        with BuildLine():
            ThreePointArc((-32.5, -30), (-33.953207, -25.563076), (-37.74968, -22.845557))
            ThreePointArc((-37.74968, -22.845557), (-46.092933, -34.373347), (-32.501646, -30.157102))
            ThreePointArc((-32.501646, -30.157102), (-32.500411, -30.078555), (-32.5, -30))
        make_face()
        with Locations((-40.741136, -34.438549)):
            Circle(F0_R, mode=Mode.SUBTRACT)
        with Locations((-44.438549, -29.258864)):
            Circle(F0_R, mode=Mode.SUBTRACT)
        with Locations((-40, -30)):
            Circle(F0_R_2, mode=Mode.SUBTRACT)
        with Locations((-35.561451, -30.741136)):
            Circle(F0_R, mode=Mode.SUBTRACT)
        with Locations((-39.258864, -25.561451)):
            Circle(F0_R, mode=Mode.SUBTRACT)
    extrude(amount=F1_DEPTH)


solid = f1.part
